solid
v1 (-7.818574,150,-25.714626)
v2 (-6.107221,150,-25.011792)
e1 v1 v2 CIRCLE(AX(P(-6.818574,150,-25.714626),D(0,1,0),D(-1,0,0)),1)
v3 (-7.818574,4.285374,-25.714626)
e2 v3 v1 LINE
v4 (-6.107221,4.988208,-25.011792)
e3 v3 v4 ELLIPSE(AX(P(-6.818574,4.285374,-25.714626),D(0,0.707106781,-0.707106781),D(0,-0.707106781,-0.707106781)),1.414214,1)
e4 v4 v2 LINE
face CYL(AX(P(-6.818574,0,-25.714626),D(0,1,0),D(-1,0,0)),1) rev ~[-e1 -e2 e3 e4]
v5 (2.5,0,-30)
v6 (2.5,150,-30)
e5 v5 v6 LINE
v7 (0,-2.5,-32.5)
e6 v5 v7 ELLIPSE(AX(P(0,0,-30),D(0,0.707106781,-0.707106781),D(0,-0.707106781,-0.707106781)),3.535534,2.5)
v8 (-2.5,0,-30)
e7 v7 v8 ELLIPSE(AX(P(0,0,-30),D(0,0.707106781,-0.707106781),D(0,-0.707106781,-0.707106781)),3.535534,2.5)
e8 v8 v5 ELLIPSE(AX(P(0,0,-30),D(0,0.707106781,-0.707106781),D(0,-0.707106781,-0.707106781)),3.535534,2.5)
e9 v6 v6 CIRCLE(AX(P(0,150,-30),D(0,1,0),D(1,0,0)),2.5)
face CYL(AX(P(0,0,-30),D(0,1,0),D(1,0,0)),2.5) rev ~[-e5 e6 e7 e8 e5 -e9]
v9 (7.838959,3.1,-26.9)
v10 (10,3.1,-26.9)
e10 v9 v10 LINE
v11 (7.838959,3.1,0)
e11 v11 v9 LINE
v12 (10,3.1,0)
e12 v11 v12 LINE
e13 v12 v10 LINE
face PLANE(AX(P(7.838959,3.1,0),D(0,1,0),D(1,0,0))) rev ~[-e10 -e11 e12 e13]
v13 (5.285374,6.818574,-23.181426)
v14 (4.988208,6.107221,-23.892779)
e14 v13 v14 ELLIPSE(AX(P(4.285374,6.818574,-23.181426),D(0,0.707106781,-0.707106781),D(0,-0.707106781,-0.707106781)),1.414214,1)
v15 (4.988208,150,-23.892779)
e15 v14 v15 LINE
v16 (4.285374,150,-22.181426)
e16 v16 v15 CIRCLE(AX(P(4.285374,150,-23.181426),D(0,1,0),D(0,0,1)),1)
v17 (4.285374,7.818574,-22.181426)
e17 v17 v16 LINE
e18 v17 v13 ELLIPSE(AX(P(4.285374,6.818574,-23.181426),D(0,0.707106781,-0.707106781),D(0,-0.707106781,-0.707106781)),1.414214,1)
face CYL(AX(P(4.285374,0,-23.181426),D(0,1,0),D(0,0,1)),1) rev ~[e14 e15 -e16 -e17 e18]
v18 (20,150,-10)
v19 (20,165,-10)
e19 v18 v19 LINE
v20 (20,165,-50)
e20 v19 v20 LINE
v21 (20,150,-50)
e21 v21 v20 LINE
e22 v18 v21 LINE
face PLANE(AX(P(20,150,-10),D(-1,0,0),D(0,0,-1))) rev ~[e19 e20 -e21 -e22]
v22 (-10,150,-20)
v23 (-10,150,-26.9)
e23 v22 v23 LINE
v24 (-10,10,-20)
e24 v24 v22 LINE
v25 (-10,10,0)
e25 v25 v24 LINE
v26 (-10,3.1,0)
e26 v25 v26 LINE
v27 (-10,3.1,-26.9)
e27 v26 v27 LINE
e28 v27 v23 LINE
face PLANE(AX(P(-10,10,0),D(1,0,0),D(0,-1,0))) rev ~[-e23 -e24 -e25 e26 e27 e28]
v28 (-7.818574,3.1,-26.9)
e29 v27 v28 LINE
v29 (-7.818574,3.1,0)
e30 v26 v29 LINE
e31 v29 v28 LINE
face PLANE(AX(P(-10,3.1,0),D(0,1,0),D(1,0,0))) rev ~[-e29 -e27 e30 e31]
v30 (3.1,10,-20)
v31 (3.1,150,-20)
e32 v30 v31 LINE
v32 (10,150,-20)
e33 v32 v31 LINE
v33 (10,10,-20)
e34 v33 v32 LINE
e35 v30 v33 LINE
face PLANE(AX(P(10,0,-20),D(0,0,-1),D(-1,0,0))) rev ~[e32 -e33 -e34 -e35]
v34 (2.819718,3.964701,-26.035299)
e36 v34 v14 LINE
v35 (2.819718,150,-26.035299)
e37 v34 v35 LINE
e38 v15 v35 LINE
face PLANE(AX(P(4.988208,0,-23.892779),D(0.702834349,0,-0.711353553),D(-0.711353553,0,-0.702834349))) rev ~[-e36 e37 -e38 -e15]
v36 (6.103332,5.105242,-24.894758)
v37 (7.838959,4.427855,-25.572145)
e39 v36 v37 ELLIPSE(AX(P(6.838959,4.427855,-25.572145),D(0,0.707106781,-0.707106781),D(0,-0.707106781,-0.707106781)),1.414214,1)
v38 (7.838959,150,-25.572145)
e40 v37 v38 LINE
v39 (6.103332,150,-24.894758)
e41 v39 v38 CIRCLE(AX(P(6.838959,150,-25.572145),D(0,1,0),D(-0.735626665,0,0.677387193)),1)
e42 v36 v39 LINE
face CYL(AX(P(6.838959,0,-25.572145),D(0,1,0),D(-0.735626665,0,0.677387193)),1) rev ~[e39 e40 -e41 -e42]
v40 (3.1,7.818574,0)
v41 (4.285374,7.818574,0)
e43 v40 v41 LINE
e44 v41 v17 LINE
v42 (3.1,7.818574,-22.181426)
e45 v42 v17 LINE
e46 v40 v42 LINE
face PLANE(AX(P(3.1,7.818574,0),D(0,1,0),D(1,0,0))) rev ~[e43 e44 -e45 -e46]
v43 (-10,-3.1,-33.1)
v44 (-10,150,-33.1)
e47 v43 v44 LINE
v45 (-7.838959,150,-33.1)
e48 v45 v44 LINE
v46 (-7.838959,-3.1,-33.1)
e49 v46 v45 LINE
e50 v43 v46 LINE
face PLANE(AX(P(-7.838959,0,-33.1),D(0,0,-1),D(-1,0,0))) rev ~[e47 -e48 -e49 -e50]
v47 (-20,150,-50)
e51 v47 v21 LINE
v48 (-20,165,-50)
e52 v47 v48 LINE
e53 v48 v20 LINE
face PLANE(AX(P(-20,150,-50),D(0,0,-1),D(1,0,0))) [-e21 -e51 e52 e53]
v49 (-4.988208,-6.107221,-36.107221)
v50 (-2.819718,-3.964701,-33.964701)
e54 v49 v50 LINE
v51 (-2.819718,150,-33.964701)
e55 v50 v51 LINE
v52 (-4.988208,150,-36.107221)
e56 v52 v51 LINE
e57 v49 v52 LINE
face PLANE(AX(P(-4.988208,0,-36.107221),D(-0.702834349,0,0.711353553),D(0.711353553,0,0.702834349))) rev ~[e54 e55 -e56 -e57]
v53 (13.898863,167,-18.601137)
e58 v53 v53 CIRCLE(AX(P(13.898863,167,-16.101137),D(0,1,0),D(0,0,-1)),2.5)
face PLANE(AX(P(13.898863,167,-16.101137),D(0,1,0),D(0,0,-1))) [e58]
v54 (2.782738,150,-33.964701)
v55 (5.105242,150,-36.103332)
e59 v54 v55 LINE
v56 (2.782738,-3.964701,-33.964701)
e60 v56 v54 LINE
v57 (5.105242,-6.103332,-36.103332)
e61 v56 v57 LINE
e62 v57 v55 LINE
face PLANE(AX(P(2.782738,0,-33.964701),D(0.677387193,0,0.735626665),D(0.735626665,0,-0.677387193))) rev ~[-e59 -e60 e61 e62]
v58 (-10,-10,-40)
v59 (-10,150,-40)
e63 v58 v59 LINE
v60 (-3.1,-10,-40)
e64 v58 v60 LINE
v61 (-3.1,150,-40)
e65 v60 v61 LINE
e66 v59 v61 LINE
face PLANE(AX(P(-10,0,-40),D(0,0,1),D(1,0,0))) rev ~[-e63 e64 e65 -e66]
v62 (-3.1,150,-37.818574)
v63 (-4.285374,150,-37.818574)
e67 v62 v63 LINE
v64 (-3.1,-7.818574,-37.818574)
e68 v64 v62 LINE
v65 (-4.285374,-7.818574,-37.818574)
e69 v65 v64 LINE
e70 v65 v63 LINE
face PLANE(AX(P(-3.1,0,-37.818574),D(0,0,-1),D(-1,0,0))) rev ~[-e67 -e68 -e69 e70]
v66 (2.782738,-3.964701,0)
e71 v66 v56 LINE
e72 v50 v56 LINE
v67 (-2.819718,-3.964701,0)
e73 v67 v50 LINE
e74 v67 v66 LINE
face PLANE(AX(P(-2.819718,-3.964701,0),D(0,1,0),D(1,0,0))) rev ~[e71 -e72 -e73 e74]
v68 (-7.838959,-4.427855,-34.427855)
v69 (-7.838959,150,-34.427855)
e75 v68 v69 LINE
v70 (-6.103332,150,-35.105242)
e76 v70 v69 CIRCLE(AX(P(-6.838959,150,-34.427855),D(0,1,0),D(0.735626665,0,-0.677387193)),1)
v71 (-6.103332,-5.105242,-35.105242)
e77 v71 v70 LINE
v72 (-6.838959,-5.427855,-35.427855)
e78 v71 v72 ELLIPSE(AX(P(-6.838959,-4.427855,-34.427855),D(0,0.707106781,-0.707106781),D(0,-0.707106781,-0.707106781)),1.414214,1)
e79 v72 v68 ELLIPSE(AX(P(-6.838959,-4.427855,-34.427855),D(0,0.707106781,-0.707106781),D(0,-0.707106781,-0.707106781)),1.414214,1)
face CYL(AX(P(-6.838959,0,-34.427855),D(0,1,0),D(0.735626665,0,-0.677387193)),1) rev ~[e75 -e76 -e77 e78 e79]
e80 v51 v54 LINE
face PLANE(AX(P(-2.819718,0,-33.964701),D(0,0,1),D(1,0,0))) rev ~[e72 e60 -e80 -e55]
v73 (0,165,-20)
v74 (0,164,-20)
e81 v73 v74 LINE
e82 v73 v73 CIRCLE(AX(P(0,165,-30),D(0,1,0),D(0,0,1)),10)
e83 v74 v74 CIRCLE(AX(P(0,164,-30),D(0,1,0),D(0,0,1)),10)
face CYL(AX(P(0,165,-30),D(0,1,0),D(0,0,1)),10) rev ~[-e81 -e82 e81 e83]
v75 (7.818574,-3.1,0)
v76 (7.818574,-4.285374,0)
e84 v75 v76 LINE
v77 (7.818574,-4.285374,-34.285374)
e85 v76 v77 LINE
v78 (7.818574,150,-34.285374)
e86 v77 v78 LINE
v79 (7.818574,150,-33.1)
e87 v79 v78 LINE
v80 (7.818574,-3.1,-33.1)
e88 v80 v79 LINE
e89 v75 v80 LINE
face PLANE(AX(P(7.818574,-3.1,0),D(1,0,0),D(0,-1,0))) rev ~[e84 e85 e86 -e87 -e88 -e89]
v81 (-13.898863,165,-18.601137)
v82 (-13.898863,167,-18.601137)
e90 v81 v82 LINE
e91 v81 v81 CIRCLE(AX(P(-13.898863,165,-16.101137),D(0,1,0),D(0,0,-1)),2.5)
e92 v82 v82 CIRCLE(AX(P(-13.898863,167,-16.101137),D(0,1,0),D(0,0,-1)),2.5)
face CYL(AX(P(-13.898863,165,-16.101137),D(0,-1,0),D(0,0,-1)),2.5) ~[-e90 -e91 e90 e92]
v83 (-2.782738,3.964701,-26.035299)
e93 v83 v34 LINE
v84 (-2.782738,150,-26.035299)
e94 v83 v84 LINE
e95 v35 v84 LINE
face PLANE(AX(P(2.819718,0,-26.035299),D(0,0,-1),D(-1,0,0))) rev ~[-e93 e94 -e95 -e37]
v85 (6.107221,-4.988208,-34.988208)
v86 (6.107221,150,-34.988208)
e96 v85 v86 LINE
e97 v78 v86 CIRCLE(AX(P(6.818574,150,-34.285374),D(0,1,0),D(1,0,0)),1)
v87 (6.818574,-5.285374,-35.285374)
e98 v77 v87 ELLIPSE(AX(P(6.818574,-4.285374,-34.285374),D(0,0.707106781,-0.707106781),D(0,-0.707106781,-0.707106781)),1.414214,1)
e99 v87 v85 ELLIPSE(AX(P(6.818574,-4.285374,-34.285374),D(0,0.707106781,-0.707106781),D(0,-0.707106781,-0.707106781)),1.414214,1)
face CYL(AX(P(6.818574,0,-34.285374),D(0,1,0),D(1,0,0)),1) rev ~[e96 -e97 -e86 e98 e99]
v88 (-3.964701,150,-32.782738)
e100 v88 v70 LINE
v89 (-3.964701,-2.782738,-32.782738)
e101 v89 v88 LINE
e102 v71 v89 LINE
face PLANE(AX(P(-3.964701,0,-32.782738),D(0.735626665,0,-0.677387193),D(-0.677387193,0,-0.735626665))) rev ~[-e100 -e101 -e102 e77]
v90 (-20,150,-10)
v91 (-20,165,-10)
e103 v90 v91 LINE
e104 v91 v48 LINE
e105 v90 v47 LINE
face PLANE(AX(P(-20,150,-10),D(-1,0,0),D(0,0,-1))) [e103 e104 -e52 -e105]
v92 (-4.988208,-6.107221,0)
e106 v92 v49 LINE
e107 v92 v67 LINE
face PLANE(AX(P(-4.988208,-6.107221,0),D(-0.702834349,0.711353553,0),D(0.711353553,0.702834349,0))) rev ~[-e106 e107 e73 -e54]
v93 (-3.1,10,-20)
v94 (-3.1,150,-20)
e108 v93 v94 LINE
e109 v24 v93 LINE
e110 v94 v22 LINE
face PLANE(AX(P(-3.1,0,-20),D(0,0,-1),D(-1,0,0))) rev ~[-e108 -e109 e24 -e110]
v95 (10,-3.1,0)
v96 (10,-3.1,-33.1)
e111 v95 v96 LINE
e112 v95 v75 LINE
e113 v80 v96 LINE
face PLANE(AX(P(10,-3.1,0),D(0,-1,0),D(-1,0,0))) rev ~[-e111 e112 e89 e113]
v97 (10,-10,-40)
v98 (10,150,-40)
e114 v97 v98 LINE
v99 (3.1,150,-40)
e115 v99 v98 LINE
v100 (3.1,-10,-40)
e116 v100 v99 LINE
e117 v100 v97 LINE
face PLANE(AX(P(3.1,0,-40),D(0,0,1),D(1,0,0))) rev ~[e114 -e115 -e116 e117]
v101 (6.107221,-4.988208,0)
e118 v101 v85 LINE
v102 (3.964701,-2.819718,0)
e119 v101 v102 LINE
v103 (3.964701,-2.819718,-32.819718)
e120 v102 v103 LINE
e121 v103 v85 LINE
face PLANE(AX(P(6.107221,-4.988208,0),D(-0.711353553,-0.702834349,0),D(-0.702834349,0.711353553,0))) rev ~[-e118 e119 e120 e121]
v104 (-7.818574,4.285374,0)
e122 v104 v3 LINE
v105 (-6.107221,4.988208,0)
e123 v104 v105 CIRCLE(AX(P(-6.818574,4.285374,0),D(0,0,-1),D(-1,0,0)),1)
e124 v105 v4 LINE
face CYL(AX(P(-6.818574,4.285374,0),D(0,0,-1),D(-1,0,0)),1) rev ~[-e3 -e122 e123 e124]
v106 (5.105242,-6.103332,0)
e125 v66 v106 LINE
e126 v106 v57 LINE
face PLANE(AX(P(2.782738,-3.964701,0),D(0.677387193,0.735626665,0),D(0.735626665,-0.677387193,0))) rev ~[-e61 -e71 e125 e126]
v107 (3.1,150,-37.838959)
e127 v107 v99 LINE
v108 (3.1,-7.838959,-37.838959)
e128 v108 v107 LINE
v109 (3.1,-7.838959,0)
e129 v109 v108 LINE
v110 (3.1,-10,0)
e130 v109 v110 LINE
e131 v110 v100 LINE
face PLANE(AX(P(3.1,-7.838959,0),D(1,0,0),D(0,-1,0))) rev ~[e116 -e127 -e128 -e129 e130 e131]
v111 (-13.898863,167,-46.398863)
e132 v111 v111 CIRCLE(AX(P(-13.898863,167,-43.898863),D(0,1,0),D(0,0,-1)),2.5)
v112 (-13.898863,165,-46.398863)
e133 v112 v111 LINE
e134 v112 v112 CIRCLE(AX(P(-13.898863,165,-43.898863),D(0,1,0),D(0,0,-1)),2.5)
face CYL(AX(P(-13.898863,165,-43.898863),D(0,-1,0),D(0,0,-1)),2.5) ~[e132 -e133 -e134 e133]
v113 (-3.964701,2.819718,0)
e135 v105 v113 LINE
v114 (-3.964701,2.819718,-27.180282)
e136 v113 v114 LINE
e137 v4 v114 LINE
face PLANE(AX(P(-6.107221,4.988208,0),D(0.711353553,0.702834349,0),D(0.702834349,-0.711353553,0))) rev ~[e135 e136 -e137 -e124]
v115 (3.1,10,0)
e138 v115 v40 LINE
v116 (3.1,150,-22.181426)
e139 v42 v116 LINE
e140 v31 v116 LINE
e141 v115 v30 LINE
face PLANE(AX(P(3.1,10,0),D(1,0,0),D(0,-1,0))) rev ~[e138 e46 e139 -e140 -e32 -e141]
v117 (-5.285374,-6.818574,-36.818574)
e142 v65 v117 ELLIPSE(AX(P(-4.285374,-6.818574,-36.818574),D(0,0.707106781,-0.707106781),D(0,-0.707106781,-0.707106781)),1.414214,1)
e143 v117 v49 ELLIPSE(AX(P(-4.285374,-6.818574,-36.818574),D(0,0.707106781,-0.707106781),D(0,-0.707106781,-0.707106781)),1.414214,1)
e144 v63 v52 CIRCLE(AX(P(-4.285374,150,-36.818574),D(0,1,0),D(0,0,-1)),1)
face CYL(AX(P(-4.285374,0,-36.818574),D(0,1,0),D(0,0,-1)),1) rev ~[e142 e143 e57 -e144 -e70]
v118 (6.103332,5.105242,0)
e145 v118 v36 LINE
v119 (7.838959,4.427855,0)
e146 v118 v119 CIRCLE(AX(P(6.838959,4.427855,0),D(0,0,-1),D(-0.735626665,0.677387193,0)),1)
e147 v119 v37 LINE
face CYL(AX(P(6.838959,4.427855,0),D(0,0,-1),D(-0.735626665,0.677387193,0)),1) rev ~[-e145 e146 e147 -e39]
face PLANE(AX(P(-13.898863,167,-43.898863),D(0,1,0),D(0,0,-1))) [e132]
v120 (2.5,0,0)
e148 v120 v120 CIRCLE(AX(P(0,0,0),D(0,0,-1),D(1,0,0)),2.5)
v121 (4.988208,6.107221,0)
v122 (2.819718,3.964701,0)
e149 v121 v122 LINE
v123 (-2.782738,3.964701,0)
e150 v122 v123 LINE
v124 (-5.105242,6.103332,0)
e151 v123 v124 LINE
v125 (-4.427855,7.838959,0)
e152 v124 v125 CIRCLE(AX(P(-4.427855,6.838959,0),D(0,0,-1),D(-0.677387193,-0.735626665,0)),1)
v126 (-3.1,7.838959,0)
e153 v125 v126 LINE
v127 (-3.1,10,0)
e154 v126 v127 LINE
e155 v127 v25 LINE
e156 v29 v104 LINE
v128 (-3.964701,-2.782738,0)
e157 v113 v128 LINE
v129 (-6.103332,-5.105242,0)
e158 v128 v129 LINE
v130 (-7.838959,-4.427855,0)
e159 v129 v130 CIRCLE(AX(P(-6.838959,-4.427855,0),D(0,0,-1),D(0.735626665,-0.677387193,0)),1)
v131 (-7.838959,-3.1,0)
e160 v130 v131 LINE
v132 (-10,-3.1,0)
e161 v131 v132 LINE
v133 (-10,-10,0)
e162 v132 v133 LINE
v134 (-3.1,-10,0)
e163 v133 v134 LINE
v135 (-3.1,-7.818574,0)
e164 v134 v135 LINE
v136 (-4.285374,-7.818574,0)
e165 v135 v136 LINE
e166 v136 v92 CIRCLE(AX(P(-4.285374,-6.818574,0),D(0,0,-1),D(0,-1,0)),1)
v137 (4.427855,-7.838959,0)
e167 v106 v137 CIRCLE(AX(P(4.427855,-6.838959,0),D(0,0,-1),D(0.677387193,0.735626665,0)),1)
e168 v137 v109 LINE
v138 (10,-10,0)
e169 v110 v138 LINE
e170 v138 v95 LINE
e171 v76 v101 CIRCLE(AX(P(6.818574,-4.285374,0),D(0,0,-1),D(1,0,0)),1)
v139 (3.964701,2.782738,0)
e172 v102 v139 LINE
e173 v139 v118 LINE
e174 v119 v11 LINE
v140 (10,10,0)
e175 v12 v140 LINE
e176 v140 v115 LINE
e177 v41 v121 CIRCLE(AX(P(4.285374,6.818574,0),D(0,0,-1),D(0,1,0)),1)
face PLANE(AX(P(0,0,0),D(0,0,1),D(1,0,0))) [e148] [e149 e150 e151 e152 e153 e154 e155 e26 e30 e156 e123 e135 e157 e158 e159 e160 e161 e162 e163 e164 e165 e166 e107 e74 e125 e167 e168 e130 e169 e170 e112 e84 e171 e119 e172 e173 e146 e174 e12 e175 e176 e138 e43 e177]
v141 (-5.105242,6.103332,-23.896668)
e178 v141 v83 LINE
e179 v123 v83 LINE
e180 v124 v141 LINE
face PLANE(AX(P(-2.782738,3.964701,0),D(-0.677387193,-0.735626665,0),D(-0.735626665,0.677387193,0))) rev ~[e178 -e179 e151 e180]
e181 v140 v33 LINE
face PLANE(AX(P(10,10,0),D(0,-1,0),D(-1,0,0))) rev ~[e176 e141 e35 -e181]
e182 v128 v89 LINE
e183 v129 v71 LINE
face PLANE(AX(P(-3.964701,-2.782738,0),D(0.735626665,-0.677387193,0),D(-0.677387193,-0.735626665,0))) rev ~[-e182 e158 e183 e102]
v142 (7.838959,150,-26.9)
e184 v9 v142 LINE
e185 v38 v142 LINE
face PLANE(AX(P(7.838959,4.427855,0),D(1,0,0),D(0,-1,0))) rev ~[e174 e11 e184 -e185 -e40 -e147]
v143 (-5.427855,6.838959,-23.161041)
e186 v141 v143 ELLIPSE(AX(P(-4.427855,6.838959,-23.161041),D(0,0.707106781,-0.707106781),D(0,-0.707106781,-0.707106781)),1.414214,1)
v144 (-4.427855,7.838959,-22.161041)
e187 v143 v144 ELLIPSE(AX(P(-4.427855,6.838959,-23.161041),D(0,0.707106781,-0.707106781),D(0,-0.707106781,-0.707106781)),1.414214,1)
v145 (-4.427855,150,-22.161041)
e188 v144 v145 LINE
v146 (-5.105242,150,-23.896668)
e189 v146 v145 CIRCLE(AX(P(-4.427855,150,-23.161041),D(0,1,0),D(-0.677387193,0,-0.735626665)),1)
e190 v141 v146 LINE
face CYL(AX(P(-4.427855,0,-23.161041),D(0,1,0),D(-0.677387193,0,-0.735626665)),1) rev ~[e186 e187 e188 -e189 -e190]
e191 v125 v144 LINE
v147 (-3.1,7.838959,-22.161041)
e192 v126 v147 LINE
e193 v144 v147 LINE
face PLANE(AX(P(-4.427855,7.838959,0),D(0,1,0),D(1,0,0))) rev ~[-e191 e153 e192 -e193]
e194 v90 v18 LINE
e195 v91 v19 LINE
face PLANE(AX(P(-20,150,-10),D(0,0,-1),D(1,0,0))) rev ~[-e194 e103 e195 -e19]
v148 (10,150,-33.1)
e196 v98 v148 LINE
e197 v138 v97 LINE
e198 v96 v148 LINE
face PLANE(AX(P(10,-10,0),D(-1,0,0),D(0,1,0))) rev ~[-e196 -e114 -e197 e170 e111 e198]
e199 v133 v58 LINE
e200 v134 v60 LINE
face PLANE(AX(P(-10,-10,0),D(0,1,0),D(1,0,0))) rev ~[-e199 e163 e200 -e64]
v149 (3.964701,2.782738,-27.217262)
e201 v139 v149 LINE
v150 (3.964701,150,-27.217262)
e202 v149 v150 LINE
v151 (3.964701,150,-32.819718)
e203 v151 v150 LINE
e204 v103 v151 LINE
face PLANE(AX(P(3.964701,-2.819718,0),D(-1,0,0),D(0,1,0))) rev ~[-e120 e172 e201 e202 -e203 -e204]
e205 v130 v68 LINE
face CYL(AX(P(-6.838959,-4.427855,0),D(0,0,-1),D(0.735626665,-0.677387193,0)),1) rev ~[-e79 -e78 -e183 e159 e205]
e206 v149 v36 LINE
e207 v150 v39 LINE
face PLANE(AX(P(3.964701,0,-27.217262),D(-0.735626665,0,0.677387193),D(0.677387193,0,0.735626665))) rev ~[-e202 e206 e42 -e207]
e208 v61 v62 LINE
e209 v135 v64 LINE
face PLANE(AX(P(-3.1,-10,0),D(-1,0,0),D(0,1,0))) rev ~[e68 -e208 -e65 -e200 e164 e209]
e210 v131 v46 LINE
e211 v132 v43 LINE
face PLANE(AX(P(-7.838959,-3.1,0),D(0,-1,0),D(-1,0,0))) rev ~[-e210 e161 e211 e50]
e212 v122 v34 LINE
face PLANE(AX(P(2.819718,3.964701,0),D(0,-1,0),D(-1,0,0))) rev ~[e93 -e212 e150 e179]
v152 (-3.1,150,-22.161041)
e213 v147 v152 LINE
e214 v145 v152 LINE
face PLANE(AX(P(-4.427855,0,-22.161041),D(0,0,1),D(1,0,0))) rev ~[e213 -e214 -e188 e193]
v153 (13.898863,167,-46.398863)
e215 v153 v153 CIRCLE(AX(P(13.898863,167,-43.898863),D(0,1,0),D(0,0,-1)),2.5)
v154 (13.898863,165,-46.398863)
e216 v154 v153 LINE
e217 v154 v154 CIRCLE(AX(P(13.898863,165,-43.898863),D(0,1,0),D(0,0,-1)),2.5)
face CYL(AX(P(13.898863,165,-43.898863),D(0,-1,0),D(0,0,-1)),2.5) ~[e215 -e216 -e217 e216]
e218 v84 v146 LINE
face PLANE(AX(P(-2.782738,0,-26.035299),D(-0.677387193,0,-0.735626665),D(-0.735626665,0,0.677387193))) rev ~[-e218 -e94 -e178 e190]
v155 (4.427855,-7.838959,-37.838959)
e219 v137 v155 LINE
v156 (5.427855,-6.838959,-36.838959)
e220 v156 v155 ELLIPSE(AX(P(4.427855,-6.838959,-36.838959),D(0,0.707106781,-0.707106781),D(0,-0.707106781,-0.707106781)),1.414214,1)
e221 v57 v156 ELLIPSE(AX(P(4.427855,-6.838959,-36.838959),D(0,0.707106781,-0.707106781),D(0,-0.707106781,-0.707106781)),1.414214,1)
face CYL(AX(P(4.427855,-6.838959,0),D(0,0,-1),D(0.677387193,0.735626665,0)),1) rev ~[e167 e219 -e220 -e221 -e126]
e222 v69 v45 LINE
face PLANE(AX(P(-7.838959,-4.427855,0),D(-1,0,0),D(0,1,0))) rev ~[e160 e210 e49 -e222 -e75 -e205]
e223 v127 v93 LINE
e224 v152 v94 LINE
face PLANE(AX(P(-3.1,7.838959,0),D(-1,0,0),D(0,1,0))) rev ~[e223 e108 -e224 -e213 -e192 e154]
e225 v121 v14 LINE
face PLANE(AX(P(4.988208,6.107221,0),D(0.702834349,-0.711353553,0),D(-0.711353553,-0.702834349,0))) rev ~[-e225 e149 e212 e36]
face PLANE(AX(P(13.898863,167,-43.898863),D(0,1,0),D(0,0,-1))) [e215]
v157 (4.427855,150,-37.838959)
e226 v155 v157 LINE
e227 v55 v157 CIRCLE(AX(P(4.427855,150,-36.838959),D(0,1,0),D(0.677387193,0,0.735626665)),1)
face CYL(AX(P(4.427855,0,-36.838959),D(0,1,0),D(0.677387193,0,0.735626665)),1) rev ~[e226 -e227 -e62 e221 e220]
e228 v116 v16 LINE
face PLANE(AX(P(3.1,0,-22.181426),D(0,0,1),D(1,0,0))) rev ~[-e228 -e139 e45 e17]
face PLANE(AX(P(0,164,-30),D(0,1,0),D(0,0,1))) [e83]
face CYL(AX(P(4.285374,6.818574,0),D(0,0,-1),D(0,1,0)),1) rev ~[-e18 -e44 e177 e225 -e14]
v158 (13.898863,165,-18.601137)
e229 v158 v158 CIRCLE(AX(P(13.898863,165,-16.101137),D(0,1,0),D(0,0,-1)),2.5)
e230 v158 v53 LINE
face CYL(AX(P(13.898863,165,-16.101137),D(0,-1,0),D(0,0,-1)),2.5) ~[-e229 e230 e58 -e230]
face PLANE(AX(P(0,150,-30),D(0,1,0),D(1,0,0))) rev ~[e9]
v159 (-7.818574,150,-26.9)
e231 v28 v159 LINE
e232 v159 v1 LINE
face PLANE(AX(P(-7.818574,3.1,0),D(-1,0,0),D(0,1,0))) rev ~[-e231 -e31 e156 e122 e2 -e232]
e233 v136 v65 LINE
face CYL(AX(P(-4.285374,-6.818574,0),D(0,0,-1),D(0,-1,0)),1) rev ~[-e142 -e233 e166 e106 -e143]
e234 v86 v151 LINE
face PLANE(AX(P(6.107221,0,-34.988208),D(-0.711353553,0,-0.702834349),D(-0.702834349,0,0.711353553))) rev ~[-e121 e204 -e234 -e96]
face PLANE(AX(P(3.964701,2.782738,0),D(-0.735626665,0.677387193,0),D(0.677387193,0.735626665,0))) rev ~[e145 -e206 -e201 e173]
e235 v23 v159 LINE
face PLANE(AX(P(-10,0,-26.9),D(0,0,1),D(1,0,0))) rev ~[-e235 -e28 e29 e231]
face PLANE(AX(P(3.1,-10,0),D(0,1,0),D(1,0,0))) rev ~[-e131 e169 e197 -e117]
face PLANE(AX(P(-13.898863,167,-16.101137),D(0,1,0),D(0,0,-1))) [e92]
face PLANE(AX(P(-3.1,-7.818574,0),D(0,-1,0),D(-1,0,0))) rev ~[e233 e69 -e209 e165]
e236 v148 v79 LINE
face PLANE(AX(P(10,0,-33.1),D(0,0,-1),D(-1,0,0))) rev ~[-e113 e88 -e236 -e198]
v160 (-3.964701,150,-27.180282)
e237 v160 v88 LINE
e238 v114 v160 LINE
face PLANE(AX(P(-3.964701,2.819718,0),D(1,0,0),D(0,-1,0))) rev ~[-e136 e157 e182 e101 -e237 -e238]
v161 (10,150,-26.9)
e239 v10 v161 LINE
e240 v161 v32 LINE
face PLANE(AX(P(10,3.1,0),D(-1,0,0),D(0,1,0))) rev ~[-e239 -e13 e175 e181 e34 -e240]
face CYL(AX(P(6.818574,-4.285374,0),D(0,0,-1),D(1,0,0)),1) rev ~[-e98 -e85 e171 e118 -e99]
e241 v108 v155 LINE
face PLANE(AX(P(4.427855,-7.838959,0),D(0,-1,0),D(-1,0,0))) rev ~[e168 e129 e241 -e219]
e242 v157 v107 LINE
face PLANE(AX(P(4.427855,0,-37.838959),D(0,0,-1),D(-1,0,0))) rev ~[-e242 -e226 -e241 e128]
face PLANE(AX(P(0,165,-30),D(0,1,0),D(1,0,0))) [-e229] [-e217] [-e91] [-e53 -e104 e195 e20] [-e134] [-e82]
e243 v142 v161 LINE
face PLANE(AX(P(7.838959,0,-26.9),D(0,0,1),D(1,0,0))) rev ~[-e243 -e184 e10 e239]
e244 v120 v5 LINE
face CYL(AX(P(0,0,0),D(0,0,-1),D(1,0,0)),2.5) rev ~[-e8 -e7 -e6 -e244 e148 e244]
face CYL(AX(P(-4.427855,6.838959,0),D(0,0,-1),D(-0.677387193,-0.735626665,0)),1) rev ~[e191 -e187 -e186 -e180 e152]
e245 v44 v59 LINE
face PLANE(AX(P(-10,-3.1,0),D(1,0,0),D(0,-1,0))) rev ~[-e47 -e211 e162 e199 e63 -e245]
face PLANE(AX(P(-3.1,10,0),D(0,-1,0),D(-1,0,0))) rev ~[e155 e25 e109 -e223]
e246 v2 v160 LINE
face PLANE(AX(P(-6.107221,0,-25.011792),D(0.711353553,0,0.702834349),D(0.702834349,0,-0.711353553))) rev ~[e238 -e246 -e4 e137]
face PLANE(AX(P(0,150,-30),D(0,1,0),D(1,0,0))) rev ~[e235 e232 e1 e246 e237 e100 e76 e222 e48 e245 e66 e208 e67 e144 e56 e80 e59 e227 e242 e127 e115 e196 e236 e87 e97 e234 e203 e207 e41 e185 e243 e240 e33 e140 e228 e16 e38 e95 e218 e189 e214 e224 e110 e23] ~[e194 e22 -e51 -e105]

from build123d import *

# Parameters (mm, degrees)
SKETCH2_R           = 2.5
SKETCH4_W           = 40
SKETCH4_H           = 40
BOSS_EXTRUDE1_DEPTH = 15
SKETCH5_R           = 10
CUT_EXTRUDE1_DEPTH  = 1
SKETCH6_R           = 2.5
BOSS_EXTRUDE2_DEPTH = 2


with BuildPart() as part:
    # Sweep1: sweep along a path in Sketch3
    with BuildLine(Plane(origin=(0, 0, 0), x_dir=(0, 0, -1), z_dir=(1, 0, 0))) as sweep1_path:
        Line((0, 0), (30, 0))
        Line((30, 0), (30, 150))
    # Sketch2 → Sweep1 (sweep)
    with BuildSketch(Plane.XY):
        with BuildLine():
            Line((-10, -10), (-3.1, -10))
            Line((-3.1, -10), (-3.1, -7.81857447))
            Line((-3.1, -7.81857447), (-4.285374034, -7.81857447))
            ThreePointArc((-4.285374034, -7.81857447), (-5.210402021, -7.198473435), (-4.988208383, -6.107220917))
            Line((-4.988208383, -6.107220917), (-2.819718275, -3.96470075))
            Line((-2.819718275, -3.96470075), (0, -3.96470075))
            Line((0, -3.96470075), (2.782738033, -3.96470075))
            Line((2.782738033, -3.96470075), (5.105242131, -6.103332486))
            ThreePointArc((5.105242131, -6.103332486), (5.359419929, -7.202533996), (4.427854938, -7.838959152))
            Line((4.427854938, -7.838959152), (3.1, -7.838959152))
            Line((3.1, -7.838959152), (3.1, -10))
            Line((3.1, -10), (10, -10))
            Line((10, -10), (10, -3.1))
            Line((10, -3.1), (7.81857447, -3.1))
            Line((7.81857447, -3.1), (7.81857447, -4.285374034))
            ThreePointArc((7.81857447, -4.285374034), (7.198473435, -5.210402021), (6.107220917, -4.988208383))
            Line((6.107220917, -4.988208383), (3.96470075, -2.819718275))
            Line((3.96470075, -2.819718275), (3.96470075, 0))
            Line((3.96470075, 0), (3.96470075, 2.782738033))
            Line((3.96470075, 2.782738033), (6.103332486, 5.105242131))
            ThreePointArc((6.103332486, 5.105242131), (7.202533996, 5.359419929), (7.838959152, 4.427854938))
            Line((7.838959152, 4.427854938), (7.838959152, 3.1))
            Line((7.838959152, 3.1), (10, 3.1))
            Line((10, 3.1), (10, 10))
            Line((10, 10), (3.1, 10))
            Line((3.1, 10), (3.1, 7.81857447))
            Line((3.1, 7.81857447), (4.285374034, 7.81857447))
            ThreePointArc((4.285374034, 7.81857447), (5.210402021, 7.198473435), (4.988208383, 6.107220917))
            Line((4.988208383, 6.107220917), (2.819718275, 3.96470075))
            Line((2.819718275, 3.96470075), (0, 3.96470075))
            Line((0, 3.96470075), (-2.782738033, 3.96470075))
            Line((-2.782738033, 3.96470075), (-5.105242131, 6.103332486))
            ThreePointArc((-5.105242131, 6.103332486), (-5.359419929, 7.202533996), (-4.427854938, 7.838959152))
            Line((-4.427854938, 7.838959152), (-3.1, 7.838959152))
            Line((-3.1, 7.838959152), (-3.1, 10))
            Line((-3.1, 10), (-10, 10))
            Line((-10, 10), (-10, 3.1))
            Line((-10, 3.1), (-7.81857447, 3.1))
            Line((-7.81857447, 3.1), (-7.81857447, 4.285374034))
            ThreePointArc((-7.81857447, 4.285374034), (-7.198473435, 5.210402021), (-6.107220917, 4.988208383))
            Line((-6.107220917, 4.988208383), (-3.96470075, 2.819718275))
            Line((-3.96470075, 2.819718275), (-3.96470075, 0))
            Line((-3.96470075, 0), (-3.96470075, -2.782738033))
            Line((-3.96470075, -2.782738033), (-6.103332486, -5.105242131))
            ThreePointArc((-6.103332486, -5.105242131), (-7.202533996, -5.359419929), (-7.838959152, -4.427854938))
            Line((-7.838959152, -4.427854938), (-7.838959152, -3.1))
            Line((-7.838959152, -3.1), (-10, -3.1))
            Line((-10, -3.1), (-10, -10))
        make_face()
        Circle(SKETCH2_R, mode=Mode.SUBTRACT)
    sweep(path=sweep1_path.line, transition=Transition.RIGHT)

    # Sketch4 → Boss-Extrude1 (add)
    with BuildSketch(Plane(origin=(0, 150, 0), x_dir=(1, 0, 0), z_dir=(0, 1, 0))):
        with Locations((0, 30)):
            Rectangle(SKETCH4_W, SKETCH4_H)
    extrude(amount=BOSS_EXTRUDE1_DEPTH)

    # Sketch5 → Cut-Extrude1 (cut)
    with BuildSketch(Plane(origin=(0, 165, 0), x_dir=(1, 0, 0), z_dir=(0, 1, 0))):
        with Locations(Location((0, 30, 0), (0, 0, 270))):
            Circle(SKETCH5_R)
    extrude(amount=-CUT_EXTRUDE1_DEPTH, mode=Mode.SUBTRACT)

    # Sketch6 → Boss-Extrude2 (add)
    with BuildSketch(Plane(origin=(0, 165, 0), x_dir=(1, 0, 0), z_dir=(0, 1, 0))):
        with Locations(Location((-13.898862729, 43.898862729, 0), (0, 0, 90))):
            Circle(SKETCH6_R)
        with Locations(Location((13.898862729, 43.898862729, 0), (0, 0, 90))):
            Circle(SKETCH6_R)
        with Locations(Location((13.898862729, 16.101137271, 0), (0, 0, 90))):
            Circle(SKETCH6_R)
        with Locations(Location((-13.898862729, 16.101137271, 0), (0, 0, 90))):
            Circle(SKETCH6_R)
    extrude(amount=BOSS_EXTRUDE2_DEPTH)


solid = part.part
